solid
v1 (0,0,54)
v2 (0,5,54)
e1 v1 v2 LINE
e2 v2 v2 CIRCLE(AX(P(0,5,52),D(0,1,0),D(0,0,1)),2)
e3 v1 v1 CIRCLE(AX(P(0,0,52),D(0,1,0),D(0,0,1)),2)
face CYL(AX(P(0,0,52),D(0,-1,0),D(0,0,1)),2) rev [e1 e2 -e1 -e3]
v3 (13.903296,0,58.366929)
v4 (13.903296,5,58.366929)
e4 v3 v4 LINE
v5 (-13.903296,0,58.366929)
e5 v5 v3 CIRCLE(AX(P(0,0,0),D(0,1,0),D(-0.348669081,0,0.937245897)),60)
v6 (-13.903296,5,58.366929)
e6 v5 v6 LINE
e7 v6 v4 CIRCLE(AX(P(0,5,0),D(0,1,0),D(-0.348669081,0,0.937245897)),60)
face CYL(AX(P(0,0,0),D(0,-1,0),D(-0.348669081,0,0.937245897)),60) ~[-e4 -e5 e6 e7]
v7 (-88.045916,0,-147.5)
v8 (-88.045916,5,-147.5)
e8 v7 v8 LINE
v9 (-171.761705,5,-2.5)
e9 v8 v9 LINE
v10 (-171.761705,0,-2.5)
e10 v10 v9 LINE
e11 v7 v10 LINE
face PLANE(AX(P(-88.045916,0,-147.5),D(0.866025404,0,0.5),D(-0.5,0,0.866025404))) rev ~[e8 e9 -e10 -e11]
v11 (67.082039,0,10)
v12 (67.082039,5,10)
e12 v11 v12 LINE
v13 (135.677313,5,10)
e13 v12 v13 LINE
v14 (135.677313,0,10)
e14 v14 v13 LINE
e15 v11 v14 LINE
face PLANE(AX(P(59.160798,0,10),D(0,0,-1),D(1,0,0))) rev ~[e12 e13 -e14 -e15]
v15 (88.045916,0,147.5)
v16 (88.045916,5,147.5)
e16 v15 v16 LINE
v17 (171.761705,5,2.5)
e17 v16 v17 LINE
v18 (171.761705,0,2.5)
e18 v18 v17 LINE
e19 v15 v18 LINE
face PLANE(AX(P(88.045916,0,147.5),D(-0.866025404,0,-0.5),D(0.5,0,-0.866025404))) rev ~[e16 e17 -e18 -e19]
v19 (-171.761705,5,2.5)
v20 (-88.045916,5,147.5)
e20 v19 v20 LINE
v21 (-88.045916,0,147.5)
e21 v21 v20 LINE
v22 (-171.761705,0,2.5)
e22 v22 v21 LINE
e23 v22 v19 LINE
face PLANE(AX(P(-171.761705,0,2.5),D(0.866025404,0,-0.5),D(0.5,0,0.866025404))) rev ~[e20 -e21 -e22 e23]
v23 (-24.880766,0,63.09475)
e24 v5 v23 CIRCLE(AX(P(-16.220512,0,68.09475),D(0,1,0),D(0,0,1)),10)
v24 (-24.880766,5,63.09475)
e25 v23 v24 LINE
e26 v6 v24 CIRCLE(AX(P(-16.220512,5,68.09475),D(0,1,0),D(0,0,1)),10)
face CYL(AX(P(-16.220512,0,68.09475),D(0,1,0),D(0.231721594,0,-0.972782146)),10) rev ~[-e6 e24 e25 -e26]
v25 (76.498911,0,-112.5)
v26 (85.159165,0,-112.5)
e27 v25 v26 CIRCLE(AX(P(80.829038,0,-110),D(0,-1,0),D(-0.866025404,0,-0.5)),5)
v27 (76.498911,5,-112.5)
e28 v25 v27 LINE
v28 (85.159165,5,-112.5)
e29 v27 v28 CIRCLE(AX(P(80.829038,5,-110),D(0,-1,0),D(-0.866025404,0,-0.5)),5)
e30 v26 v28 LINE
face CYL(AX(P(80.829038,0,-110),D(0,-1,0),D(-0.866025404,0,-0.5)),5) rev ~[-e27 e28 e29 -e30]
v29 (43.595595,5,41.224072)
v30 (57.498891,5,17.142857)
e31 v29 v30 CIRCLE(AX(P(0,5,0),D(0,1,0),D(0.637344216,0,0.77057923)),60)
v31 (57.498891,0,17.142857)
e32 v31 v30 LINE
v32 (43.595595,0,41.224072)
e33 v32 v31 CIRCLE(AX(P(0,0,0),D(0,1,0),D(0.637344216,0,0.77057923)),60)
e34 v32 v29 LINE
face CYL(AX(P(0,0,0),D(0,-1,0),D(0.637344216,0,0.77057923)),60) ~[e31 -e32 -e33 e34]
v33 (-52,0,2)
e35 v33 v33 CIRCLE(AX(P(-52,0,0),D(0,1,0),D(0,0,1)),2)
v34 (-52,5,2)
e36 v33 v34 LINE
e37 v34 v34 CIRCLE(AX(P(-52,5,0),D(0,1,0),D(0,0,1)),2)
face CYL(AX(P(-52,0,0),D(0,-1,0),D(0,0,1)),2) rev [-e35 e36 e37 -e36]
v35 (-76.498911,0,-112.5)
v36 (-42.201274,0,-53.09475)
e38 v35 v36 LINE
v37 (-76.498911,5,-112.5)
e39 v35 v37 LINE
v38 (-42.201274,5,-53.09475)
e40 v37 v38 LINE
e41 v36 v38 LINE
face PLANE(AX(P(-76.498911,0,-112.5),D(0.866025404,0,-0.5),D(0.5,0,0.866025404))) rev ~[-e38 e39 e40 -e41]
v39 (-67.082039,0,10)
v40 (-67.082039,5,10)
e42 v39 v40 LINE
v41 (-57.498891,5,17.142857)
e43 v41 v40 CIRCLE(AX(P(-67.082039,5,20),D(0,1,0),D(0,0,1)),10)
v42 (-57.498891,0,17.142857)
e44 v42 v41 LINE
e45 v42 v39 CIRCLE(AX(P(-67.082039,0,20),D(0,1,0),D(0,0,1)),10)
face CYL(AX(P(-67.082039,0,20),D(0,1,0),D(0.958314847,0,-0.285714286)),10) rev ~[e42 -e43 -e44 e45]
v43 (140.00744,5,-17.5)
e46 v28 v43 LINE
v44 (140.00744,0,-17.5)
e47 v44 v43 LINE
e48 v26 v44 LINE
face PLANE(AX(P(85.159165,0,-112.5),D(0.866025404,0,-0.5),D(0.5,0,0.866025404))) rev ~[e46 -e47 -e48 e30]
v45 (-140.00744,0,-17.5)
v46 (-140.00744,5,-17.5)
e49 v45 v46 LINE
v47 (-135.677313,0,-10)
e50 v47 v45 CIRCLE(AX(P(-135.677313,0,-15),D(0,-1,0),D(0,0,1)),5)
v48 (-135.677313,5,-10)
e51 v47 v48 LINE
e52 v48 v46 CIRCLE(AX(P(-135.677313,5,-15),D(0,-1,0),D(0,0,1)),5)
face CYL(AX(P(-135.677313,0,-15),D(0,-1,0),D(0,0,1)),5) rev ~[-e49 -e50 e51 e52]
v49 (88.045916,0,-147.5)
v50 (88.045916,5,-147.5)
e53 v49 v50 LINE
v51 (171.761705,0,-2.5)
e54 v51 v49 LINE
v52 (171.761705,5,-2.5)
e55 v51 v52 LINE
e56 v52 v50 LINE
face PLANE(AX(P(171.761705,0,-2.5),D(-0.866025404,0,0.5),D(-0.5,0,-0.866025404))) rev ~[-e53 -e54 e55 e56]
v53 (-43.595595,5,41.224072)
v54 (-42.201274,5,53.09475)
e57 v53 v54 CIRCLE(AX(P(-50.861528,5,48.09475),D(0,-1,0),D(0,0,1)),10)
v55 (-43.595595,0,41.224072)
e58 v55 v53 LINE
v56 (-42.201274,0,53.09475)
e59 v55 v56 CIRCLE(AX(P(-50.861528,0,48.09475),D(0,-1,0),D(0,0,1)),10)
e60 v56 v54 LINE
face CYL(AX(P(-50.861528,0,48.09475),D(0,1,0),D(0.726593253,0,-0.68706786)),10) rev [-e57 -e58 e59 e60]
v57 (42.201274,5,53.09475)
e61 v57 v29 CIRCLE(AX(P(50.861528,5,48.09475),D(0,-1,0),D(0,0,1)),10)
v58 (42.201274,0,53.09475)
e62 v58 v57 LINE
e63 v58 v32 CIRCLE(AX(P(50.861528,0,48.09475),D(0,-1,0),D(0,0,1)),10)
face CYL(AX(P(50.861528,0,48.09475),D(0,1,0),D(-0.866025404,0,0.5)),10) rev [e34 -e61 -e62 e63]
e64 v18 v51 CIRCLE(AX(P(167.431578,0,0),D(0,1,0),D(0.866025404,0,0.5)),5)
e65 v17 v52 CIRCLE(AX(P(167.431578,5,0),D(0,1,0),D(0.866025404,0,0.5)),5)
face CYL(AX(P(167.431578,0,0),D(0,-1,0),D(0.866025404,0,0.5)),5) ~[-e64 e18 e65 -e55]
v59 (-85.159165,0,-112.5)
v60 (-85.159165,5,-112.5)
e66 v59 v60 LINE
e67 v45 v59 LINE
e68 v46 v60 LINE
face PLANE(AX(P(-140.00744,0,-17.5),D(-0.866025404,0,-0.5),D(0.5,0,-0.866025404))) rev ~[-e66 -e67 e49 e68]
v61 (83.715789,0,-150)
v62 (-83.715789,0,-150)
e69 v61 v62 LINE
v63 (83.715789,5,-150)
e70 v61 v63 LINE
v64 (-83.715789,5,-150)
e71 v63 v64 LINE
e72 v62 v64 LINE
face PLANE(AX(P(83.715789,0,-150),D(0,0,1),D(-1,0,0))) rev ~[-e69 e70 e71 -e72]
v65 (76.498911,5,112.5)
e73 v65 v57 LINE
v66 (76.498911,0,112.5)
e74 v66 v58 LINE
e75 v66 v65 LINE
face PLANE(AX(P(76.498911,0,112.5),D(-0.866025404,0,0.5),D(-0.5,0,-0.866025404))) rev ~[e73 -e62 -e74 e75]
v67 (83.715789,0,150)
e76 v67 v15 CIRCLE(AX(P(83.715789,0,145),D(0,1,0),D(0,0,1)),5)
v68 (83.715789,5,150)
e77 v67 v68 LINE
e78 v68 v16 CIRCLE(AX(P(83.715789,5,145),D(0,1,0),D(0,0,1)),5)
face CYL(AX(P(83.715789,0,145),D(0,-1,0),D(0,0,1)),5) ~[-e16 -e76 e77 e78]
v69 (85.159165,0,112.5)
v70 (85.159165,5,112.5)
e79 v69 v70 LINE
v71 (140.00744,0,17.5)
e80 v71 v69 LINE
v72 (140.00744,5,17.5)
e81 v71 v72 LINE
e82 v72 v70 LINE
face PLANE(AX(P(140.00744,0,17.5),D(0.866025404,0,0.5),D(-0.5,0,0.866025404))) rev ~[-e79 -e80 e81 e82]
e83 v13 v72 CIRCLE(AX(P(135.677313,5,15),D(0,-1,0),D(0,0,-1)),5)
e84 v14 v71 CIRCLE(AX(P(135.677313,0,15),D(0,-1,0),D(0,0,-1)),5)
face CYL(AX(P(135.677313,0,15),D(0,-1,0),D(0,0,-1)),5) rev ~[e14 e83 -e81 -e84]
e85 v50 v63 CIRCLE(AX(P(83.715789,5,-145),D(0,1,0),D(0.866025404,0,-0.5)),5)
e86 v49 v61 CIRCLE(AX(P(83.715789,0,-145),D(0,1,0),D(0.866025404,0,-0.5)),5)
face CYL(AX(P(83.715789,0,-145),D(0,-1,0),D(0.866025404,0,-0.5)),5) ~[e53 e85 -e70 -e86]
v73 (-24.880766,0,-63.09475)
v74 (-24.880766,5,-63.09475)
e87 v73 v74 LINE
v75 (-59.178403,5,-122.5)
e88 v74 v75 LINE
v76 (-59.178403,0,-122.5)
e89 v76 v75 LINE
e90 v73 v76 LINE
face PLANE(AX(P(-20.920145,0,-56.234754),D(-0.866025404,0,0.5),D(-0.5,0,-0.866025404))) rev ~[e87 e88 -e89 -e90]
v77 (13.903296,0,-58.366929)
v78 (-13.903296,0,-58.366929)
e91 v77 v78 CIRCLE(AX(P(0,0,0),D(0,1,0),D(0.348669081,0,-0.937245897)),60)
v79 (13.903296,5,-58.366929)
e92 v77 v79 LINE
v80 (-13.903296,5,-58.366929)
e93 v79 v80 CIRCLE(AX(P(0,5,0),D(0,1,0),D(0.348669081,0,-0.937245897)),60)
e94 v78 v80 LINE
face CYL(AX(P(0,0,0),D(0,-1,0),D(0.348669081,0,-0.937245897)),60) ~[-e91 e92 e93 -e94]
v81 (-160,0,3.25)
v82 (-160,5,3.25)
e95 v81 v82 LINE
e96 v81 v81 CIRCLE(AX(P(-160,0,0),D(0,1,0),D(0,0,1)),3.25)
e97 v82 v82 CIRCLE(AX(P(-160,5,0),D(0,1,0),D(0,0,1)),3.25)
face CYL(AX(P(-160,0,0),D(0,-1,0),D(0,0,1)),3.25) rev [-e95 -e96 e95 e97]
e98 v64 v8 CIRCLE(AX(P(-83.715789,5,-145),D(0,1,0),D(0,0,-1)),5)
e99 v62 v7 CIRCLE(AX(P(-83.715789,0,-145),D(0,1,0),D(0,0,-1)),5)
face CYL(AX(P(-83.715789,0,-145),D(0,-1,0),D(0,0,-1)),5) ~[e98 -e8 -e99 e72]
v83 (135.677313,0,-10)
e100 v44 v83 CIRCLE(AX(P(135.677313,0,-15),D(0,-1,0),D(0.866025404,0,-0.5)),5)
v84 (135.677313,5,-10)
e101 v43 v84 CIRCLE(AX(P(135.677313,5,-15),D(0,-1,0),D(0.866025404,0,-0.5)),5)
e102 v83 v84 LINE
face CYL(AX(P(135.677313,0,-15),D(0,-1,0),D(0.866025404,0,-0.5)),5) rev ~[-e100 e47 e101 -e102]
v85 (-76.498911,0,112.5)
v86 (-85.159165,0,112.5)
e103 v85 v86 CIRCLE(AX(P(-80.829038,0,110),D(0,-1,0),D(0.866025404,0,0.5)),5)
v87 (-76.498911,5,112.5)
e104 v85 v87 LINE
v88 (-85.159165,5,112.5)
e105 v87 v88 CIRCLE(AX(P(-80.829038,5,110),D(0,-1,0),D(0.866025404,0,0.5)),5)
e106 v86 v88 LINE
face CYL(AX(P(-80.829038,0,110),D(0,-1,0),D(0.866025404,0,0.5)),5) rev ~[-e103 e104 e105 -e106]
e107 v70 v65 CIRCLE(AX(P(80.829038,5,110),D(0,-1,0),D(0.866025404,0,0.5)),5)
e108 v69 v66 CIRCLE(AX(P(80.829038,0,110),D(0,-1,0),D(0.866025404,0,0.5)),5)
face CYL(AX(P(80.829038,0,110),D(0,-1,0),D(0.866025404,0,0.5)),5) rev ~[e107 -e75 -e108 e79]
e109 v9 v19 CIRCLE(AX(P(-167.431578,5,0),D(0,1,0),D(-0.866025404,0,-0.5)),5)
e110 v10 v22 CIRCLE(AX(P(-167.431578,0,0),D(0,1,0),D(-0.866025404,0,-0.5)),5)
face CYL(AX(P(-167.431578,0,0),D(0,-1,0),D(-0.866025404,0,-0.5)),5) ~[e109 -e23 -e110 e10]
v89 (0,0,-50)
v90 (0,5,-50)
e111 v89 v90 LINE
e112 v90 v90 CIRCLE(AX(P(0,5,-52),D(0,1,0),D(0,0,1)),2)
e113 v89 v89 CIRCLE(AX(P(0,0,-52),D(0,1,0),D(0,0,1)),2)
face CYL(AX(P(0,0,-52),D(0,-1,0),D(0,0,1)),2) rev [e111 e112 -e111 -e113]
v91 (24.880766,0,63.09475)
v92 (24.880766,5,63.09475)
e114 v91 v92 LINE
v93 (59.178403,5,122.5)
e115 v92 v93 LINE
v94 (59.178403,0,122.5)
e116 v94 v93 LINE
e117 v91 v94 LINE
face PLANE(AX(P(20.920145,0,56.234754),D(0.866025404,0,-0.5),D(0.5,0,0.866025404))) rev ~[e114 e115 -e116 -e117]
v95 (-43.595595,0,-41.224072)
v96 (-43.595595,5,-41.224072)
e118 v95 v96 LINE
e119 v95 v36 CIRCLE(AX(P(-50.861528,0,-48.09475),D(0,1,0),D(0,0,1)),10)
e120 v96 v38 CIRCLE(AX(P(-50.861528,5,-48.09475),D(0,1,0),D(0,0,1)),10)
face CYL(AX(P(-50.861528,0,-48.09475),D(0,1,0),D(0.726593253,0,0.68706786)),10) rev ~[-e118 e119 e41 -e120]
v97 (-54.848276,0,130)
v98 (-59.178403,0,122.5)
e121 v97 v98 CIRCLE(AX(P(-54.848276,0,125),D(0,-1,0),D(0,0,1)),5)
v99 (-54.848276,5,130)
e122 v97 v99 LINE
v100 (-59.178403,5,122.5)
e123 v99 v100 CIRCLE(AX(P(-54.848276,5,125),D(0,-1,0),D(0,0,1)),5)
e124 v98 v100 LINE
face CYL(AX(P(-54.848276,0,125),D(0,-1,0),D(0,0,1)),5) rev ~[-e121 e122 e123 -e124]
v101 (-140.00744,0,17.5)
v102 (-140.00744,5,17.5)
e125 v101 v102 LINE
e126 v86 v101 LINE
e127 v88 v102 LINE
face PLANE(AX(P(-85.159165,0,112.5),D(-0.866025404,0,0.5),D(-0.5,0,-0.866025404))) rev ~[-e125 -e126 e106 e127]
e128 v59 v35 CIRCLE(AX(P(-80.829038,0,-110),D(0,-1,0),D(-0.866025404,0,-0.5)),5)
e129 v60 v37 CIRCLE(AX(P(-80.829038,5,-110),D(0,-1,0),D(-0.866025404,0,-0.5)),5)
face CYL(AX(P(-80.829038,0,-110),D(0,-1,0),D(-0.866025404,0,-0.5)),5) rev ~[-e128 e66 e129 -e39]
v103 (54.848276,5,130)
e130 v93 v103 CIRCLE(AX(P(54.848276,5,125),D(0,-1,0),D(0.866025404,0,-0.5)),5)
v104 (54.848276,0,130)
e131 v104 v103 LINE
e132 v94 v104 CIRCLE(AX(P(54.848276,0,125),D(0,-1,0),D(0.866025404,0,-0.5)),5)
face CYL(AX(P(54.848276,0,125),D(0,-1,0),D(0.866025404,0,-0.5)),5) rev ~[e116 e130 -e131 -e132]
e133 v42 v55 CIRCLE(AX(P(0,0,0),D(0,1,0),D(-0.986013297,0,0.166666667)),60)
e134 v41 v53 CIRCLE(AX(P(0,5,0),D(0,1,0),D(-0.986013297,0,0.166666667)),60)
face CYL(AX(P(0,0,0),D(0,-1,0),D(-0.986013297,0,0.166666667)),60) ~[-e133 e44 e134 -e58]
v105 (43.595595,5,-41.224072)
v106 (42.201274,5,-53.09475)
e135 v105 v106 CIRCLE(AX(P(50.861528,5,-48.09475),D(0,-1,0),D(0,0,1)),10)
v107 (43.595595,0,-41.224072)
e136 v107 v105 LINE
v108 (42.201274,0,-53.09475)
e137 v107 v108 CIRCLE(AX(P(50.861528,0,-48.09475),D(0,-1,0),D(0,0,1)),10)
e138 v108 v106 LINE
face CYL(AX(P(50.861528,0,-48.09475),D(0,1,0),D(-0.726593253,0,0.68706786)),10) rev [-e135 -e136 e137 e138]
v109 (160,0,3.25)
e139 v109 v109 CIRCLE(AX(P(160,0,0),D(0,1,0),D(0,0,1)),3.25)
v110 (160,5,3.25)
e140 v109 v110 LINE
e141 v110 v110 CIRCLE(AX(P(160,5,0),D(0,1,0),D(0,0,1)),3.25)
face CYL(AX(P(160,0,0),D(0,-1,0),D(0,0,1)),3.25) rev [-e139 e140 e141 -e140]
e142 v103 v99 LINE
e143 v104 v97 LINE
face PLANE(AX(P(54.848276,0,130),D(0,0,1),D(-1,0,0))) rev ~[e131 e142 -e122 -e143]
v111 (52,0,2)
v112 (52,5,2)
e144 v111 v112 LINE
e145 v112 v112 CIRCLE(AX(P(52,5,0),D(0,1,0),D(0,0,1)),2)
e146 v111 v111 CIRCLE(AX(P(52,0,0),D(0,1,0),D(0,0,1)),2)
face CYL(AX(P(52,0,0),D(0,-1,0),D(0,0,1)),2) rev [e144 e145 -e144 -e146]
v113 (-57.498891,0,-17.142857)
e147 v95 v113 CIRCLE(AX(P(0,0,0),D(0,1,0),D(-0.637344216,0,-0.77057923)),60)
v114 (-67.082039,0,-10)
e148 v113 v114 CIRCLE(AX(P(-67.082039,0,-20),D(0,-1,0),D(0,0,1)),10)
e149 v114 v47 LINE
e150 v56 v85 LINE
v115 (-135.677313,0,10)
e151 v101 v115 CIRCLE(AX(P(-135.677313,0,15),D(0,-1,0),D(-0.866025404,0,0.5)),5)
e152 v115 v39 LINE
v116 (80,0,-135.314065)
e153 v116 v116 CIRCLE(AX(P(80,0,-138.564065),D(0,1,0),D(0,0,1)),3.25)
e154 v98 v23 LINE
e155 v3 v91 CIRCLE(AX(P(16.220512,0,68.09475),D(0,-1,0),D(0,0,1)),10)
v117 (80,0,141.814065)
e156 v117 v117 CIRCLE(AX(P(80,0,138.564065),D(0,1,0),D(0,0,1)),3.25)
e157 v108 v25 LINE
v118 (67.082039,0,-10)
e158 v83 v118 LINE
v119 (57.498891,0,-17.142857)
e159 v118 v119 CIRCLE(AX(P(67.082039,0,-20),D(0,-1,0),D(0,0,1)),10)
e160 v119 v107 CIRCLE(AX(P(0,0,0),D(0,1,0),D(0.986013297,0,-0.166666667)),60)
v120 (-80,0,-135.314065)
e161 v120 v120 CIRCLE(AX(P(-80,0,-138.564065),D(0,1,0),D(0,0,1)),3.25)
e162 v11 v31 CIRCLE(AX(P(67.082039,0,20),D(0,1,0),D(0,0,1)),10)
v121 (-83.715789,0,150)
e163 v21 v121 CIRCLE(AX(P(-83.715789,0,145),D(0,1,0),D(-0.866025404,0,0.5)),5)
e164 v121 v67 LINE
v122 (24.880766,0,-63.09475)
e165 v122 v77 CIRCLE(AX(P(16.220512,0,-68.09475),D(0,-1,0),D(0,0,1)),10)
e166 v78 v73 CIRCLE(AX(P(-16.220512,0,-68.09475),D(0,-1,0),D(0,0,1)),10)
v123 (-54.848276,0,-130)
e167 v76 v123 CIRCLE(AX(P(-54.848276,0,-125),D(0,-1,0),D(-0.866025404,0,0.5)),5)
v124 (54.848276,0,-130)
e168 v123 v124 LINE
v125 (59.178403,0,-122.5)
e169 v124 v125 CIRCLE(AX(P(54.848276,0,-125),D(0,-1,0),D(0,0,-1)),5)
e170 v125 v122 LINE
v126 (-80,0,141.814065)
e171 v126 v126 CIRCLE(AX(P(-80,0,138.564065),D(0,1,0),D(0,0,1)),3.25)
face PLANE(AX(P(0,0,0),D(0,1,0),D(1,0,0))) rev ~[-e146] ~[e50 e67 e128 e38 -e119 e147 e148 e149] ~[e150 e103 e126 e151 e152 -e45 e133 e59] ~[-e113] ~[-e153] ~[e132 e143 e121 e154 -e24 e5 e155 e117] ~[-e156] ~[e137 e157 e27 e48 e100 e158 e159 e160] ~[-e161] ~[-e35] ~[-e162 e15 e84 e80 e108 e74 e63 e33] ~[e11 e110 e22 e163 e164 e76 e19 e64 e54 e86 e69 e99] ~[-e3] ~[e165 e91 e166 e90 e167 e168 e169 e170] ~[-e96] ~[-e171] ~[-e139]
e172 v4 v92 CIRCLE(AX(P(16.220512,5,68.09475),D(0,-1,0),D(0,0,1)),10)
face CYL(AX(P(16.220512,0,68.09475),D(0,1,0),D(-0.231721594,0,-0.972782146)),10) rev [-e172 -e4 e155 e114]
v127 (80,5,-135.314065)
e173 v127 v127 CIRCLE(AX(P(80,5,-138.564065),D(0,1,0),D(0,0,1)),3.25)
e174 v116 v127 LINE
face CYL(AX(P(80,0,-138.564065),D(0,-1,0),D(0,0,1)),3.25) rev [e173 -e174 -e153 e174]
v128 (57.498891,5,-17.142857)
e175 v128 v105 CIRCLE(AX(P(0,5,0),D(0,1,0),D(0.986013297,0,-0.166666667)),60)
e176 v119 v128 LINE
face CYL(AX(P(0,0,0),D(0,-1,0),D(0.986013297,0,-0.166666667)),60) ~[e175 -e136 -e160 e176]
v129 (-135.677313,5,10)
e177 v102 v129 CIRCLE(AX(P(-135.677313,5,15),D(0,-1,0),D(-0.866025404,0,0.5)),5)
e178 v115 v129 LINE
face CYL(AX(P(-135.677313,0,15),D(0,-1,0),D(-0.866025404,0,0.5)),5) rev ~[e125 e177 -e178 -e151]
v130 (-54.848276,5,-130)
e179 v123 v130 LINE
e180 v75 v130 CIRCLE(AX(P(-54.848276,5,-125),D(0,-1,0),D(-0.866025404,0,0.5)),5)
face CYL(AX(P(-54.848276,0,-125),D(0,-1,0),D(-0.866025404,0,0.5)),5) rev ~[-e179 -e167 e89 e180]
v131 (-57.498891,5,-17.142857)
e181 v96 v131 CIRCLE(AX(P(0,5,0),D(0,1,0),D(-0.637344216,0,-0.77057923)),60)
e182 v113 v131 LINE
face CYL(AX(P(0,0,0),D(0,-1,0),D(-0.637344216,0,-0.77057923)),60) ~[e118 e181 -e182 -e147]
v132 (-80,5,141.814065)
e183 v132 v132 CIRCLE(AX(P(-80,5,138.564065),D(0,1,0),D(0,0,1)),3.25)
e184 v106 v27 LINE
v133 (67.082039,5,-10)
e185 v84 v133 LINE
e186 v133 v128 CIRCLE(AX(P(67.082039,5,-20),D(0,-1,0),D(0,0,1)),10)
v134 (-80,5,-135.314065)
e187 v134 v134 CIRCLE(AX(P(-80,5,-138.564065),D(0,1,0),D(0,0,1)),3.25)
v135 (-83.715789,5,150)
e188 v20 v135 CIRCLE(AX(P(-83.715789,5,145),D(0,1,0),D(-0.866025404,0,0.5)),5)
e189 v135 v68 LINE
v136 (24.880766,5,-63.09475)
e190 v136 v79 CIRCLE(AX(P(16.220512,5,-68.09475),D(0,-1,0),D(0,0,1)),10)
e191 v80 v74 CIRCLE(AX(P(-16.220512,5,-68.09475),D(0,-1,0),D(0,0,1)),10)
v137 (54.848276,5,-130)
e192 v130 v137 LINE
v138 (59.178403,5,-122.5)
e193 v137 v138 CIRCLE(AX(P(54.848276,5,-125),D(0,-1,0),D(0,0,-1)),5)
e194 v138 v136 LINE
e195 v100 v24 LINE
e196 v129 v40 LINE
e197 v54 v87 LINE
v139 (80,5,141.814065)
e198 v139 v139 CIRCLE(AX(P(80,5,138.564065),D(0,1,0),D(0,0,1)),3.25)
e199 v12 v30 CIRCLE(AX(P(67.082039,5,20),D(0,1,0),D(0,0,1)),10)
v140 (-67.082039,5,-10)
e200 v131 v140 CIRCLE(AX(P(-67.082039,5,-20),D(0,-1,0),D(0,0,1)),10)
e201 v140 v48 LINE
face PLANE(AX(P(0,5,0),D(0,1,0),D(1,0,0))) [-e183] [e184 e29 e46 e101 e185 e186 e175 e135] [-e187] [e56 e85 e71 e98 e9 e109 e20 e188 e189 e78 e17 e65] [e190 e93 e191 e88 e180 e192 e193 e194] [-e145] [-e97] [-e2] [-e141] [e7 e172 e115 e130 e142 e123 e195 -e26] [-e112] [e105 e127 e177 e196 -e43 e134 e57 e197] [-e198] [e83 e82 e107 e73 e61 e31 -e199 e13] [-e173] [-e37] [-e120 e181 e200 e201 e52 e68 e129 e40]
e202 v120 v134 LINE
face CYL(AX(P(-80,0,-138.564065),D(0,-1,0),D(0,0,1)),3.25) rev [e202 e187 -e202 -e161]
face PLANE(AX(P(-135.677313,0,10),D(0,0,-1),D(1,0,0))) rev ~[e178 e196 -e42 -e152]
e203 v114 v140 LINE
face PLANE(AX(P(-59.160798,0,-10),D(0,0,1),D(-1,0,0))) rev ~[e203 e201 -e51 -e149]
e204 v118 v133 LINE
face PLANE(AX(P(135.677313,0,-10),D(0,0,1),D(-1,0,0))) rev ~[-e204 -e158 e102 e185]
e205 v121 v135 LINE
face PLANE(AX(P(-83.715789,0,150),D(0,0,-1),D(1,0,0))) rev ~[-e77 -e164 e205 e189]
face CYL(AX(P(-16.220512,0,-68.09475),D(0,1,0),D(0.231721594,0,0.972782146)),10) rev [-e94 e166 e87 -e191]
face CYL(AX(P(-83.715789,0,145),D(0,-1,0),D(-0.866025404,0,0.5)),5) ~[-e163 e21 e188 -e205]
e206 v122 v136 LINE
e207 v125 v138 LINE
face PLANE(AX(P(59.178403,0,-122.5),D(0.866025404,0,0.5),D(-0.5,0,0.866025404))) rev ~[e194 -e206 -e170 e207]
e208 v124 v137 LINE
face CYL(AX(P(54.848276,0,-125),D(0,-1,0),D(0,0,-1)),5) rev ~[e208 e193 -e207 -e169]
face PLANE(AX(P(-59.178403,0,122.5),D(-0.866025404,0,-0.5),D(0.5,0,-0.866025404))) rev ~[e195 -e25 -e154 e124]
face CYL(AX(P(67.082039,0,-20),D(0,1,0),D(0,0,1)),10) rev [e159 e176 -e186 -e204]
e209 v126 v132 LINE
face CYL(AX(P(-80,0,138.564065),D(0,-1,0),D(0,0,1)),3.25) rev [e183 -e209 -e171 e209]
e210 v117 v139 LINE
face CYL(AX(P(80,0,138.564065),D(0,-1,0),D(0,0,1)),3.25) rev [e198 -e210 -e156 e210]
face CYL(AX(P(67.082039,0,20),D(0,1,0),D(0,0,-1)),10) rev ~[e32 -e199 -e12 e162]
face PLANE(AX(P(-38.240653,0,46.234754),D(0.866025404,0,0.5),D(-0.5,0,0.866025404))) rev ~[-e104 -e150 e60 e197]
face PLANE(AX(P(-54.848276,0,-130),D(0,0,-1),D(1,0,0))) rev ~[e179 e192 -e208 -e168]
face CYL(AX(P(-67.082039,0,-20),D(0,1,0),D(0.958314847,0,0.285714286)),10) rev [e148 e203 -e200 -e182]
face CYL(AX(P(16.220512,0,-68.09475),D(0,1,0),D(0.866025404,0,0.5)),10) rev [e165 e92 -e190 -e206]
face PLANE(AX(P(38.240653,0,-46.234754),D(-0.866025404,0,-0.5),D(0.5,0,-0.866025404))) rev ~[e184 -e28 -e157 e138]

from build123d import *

# Parameters (mm, degrees)
SKETCH1_R           = 3.25
SKETCH1_R_2         = 2
BOSS_EXTRUDE1_DEPTH = 5
FILLET2_R           = 10


with BuildPart() as part:
    # Sketch1 → Boss-Extrude1 (new body)
    with BuildSketch(Plane(origin=(0, 0, 0), x_dir=(1, 0, 0), z_dir=(0, 1, 0))):
        with BuildLine():
            ThreePointArc((171.761705084, -2.5), (172.431578065, 0), (171.761705084, 2.5))
            Line((171.761705084, 2.5), (88.045916051, 147.5))
            ThreePointArc((88.045916051, 147.5), (86.215789032, 149.330127019), (83.715789032, 150))
            Line((83.715789032, 150), (-83.715789032, 150))
            ThreePointArc((-83.715789032, 150), (-86.215789032, 149.330127019), (-88.045916051, 147.5))
            Line((-88.045916051, 147.5), (-171.761705084, 2.5))
            ThreePointArc((-171.761705084, 2.5), (-172.431578065, 0), (-171.761705084, -2.5))
            Line((-171.761705084, -2.5), (-88.045916051, -147.5))
            ThreePointArc((-88.045916051, -147.5), (-86.215789032, -149.330127019), (-83.715789032, -150))
            Line((-83.715789032, -150), (83.715789032, -150))
            ThreePointArc((83.715789032, -150), (86.215789032, -149.330127019), (88.045916051, -147.5))
            Line((88.045916051, -147.5), (171.761705084, -2.5))
        make_face()
        with Locations(Location((-80, -138.564064606, 0), (0, 0, 270))):
            Circle(SKETCH1_R, mode=Mode.SUBTRACT)
        with BuildLine():
            Line((20.920144878, -56.23475383), (59.178402592, -122.5))
            ThreePointArc((59.178402592, -122.5), (59.178402592, -127.5), (54.848275573, -130))
            Line((54.848275573, -130), (-54.848275573, -130))
            ThreePointArc((-54.848275573, -130), (-59.178402592, -127.5), (-59.178402592, -122.5))
            Line((-59.178402592, -122.5), (-20.920144878, -56.23475383))
            ThreePointArc((-20.920144878, -56.23475383), (0, -60), (20.920144878, -56.23475383))
        make_face(mode=Mode.SUBTRACT)
        with BuildLine():
            Line((-38.240652953, -46.23475383), (-76.498910668, -112.5))
            ThreePointArc((-76.498910668, -112.5), (-80.829037687, -115), (-85.159164705, -112.5))
            Line((-85.159164705, -112.5), (-140.007440278, -17.5))
            ThreePointArc((-140.007440278, -17.5), (-140.007440278, -12.5), (-135.67731326, -10))
            Line((-135.67731326, -10), (-59.160797831, -10))
            ThreePointArc((-59.160797831, -10), (-51.961524227, -30), (-38.240652953, -46.23475383))
        make_face(mode=Mode.SUBTRACT)
        with Locations(Location((-160, 0, 0), (0, 0, 270))):
            Circle(SKETCH1_R, mode=Mode.SUBTRACT)
        with Locations(Location((0, -52, 0), (0, 0, 270))):
            Circle(SKETCH1_R_2, mode=Mode.SUBTRACT)
        with Locations(Location((-52, 0, 0), (0, 0, 270))):
            Circle(SKETCH1_R_2, mode=Mode.SUBTRACT)
        with Locations(Location((80, -138.564064606, 0), (0, 0, 270))):
            Circle(SKETCH1_R, mode=Mode.SUBTRACT)
        with Locations(Location((52, 0, 0), (0, 0, 270))):
            Circle(SKETCH1_R_2, mode=Mode.SUBTRACT)
        with BuildLine():
            ThreePointArc((85.159164705, -112.5), (80.829037687, -115), (76.498910668, -112.5))
            Line((76.498910668, -112.5), (38.240652953, -46.23475383))
            ThreePointArc((38.240652953, -46.23475383), (51.961524227, -30), (59.160797831, -10))
            Line((59.160797831, -10), (135.67731326, -10))
            ThreePointArc((135.67731326, -10), (140.007440278, -12.5), (140.007440278, -17.5))
            Line((140.007440278, -17.5), (85.159164705, -112.5))
        make_face(mode=Mode.SUBTRACT)
        with BuildLine():
            Line((-59.160797831, 10), (-135.67731326, 10))
            ThreePointArc((-135.67731326, 10), (-140.007440278, 12.5), (-140.007440278, 17.5))
            Line((-140.007440278, 17.5), (-85.159164705, 112.5))
            ThreePointArc((-85.159164705, 112.5), (-80.829037687, 115), (-76.498910668, 112.5))
            Line((-76.498910668, 112.5), (-38.240652953, 46.23475383))
            ThreePointArc((-38.240652953, 46.23475383), (-51.961524227, 30), (-59.160797831, 10))
        make_face(mode=Mode.SUBTRACT)
        with Locations(Location((0, 52, 0), (0, 0, 270))):
            Circle(SKETCH1_R_2, mode=Mode.SUBTRACT)
        with BuildLine():
            Line((59.178402592, 122.5), (20.920144878, 56.23475383))
            ThreePointArc((20.920144878, 56.23475383), (0, 60), (-20.920144878, 56.23475383))
            Line((-20.920144878, 56.23475383), (-59.178402592, 122.5))
            ThreePointArc((-59.178402592, 122.5), (-59.178402592, 127.5), (-54.848275573, 130))
            Line((-54.848275573, 130), (54.848275573, 130))
            ThreePointArc((54.848275573, 130), (59.178402592, 127.5), (59.178402592, 122.5))
        make_face(mode=Mode.SUBTRACT)
        with Locations(Location((-80, 138.564064606, 0), (0, 0, 270))):
            Circle(SKETCH1_R, mode=Mode.SUBTRACT)
        with Locations(Location((160, 0, 0), (0, 0, 270))):
            Circle(SKETCH1_R, mode=Mode.SUBTRACT)
        with BuildLine():
            Line((135.67731326, 10), (59.160797831, 10))
            ThreePointArc((59.160797831, 10), (51.961524227, 30), (38.240652953, 46.23475383))
            Line((38.240652953, 46.23475383), (76.498910668, 112.5))
            ThreePointArc((76.498910668, 112.5), (80.829037687, 115), (85.159164705, 112.5))
            Line((85.159164705, 112.5), (140.007440278, 17.5))
            ThreePointArc((140.007440278, 17.5), (140.007440278, 12.5), (135.67731326, 10))
        make_face(mode=Mode.SUBTRACT)
        with Locations(Location((80, 138.564064606, 0), (0, 0, 270))):
            Circle(SKETCH1_R, mode=Mode.SUBTRACT)
    extrude(amount=BOSS_EXTRUDE1_DEPTH)

    # Fillet2
    fillet2_edges = [part.edges().sort_by_distance(p)[0] for p in [
        (-59.160797831, 2.5, -10),
        (-59.160797831, 2.5, 10),
        (-38.240652953, 2.5, 46.23475383),
        (-20.920144878, 2.5, 56.23475383),
        (20.920144878, 2.5, 56.23475383),
        (38.240652953, 2.5, 46.23475383),
        (59.160797831, 2.5, 10),
        (59.160797831, 2.5, -10),
        (38.240652953, 2.5, -46.23475383),
        (20.920144878, 2.5, -56.23475383),
        (-20.920144878, 2.5, -56.23475383),
        (-38.240652953, 2.5, -46.23475383),
    ]]
    fillet(fillet2_edges, radius=FILLET2_R)


solid = part.part
